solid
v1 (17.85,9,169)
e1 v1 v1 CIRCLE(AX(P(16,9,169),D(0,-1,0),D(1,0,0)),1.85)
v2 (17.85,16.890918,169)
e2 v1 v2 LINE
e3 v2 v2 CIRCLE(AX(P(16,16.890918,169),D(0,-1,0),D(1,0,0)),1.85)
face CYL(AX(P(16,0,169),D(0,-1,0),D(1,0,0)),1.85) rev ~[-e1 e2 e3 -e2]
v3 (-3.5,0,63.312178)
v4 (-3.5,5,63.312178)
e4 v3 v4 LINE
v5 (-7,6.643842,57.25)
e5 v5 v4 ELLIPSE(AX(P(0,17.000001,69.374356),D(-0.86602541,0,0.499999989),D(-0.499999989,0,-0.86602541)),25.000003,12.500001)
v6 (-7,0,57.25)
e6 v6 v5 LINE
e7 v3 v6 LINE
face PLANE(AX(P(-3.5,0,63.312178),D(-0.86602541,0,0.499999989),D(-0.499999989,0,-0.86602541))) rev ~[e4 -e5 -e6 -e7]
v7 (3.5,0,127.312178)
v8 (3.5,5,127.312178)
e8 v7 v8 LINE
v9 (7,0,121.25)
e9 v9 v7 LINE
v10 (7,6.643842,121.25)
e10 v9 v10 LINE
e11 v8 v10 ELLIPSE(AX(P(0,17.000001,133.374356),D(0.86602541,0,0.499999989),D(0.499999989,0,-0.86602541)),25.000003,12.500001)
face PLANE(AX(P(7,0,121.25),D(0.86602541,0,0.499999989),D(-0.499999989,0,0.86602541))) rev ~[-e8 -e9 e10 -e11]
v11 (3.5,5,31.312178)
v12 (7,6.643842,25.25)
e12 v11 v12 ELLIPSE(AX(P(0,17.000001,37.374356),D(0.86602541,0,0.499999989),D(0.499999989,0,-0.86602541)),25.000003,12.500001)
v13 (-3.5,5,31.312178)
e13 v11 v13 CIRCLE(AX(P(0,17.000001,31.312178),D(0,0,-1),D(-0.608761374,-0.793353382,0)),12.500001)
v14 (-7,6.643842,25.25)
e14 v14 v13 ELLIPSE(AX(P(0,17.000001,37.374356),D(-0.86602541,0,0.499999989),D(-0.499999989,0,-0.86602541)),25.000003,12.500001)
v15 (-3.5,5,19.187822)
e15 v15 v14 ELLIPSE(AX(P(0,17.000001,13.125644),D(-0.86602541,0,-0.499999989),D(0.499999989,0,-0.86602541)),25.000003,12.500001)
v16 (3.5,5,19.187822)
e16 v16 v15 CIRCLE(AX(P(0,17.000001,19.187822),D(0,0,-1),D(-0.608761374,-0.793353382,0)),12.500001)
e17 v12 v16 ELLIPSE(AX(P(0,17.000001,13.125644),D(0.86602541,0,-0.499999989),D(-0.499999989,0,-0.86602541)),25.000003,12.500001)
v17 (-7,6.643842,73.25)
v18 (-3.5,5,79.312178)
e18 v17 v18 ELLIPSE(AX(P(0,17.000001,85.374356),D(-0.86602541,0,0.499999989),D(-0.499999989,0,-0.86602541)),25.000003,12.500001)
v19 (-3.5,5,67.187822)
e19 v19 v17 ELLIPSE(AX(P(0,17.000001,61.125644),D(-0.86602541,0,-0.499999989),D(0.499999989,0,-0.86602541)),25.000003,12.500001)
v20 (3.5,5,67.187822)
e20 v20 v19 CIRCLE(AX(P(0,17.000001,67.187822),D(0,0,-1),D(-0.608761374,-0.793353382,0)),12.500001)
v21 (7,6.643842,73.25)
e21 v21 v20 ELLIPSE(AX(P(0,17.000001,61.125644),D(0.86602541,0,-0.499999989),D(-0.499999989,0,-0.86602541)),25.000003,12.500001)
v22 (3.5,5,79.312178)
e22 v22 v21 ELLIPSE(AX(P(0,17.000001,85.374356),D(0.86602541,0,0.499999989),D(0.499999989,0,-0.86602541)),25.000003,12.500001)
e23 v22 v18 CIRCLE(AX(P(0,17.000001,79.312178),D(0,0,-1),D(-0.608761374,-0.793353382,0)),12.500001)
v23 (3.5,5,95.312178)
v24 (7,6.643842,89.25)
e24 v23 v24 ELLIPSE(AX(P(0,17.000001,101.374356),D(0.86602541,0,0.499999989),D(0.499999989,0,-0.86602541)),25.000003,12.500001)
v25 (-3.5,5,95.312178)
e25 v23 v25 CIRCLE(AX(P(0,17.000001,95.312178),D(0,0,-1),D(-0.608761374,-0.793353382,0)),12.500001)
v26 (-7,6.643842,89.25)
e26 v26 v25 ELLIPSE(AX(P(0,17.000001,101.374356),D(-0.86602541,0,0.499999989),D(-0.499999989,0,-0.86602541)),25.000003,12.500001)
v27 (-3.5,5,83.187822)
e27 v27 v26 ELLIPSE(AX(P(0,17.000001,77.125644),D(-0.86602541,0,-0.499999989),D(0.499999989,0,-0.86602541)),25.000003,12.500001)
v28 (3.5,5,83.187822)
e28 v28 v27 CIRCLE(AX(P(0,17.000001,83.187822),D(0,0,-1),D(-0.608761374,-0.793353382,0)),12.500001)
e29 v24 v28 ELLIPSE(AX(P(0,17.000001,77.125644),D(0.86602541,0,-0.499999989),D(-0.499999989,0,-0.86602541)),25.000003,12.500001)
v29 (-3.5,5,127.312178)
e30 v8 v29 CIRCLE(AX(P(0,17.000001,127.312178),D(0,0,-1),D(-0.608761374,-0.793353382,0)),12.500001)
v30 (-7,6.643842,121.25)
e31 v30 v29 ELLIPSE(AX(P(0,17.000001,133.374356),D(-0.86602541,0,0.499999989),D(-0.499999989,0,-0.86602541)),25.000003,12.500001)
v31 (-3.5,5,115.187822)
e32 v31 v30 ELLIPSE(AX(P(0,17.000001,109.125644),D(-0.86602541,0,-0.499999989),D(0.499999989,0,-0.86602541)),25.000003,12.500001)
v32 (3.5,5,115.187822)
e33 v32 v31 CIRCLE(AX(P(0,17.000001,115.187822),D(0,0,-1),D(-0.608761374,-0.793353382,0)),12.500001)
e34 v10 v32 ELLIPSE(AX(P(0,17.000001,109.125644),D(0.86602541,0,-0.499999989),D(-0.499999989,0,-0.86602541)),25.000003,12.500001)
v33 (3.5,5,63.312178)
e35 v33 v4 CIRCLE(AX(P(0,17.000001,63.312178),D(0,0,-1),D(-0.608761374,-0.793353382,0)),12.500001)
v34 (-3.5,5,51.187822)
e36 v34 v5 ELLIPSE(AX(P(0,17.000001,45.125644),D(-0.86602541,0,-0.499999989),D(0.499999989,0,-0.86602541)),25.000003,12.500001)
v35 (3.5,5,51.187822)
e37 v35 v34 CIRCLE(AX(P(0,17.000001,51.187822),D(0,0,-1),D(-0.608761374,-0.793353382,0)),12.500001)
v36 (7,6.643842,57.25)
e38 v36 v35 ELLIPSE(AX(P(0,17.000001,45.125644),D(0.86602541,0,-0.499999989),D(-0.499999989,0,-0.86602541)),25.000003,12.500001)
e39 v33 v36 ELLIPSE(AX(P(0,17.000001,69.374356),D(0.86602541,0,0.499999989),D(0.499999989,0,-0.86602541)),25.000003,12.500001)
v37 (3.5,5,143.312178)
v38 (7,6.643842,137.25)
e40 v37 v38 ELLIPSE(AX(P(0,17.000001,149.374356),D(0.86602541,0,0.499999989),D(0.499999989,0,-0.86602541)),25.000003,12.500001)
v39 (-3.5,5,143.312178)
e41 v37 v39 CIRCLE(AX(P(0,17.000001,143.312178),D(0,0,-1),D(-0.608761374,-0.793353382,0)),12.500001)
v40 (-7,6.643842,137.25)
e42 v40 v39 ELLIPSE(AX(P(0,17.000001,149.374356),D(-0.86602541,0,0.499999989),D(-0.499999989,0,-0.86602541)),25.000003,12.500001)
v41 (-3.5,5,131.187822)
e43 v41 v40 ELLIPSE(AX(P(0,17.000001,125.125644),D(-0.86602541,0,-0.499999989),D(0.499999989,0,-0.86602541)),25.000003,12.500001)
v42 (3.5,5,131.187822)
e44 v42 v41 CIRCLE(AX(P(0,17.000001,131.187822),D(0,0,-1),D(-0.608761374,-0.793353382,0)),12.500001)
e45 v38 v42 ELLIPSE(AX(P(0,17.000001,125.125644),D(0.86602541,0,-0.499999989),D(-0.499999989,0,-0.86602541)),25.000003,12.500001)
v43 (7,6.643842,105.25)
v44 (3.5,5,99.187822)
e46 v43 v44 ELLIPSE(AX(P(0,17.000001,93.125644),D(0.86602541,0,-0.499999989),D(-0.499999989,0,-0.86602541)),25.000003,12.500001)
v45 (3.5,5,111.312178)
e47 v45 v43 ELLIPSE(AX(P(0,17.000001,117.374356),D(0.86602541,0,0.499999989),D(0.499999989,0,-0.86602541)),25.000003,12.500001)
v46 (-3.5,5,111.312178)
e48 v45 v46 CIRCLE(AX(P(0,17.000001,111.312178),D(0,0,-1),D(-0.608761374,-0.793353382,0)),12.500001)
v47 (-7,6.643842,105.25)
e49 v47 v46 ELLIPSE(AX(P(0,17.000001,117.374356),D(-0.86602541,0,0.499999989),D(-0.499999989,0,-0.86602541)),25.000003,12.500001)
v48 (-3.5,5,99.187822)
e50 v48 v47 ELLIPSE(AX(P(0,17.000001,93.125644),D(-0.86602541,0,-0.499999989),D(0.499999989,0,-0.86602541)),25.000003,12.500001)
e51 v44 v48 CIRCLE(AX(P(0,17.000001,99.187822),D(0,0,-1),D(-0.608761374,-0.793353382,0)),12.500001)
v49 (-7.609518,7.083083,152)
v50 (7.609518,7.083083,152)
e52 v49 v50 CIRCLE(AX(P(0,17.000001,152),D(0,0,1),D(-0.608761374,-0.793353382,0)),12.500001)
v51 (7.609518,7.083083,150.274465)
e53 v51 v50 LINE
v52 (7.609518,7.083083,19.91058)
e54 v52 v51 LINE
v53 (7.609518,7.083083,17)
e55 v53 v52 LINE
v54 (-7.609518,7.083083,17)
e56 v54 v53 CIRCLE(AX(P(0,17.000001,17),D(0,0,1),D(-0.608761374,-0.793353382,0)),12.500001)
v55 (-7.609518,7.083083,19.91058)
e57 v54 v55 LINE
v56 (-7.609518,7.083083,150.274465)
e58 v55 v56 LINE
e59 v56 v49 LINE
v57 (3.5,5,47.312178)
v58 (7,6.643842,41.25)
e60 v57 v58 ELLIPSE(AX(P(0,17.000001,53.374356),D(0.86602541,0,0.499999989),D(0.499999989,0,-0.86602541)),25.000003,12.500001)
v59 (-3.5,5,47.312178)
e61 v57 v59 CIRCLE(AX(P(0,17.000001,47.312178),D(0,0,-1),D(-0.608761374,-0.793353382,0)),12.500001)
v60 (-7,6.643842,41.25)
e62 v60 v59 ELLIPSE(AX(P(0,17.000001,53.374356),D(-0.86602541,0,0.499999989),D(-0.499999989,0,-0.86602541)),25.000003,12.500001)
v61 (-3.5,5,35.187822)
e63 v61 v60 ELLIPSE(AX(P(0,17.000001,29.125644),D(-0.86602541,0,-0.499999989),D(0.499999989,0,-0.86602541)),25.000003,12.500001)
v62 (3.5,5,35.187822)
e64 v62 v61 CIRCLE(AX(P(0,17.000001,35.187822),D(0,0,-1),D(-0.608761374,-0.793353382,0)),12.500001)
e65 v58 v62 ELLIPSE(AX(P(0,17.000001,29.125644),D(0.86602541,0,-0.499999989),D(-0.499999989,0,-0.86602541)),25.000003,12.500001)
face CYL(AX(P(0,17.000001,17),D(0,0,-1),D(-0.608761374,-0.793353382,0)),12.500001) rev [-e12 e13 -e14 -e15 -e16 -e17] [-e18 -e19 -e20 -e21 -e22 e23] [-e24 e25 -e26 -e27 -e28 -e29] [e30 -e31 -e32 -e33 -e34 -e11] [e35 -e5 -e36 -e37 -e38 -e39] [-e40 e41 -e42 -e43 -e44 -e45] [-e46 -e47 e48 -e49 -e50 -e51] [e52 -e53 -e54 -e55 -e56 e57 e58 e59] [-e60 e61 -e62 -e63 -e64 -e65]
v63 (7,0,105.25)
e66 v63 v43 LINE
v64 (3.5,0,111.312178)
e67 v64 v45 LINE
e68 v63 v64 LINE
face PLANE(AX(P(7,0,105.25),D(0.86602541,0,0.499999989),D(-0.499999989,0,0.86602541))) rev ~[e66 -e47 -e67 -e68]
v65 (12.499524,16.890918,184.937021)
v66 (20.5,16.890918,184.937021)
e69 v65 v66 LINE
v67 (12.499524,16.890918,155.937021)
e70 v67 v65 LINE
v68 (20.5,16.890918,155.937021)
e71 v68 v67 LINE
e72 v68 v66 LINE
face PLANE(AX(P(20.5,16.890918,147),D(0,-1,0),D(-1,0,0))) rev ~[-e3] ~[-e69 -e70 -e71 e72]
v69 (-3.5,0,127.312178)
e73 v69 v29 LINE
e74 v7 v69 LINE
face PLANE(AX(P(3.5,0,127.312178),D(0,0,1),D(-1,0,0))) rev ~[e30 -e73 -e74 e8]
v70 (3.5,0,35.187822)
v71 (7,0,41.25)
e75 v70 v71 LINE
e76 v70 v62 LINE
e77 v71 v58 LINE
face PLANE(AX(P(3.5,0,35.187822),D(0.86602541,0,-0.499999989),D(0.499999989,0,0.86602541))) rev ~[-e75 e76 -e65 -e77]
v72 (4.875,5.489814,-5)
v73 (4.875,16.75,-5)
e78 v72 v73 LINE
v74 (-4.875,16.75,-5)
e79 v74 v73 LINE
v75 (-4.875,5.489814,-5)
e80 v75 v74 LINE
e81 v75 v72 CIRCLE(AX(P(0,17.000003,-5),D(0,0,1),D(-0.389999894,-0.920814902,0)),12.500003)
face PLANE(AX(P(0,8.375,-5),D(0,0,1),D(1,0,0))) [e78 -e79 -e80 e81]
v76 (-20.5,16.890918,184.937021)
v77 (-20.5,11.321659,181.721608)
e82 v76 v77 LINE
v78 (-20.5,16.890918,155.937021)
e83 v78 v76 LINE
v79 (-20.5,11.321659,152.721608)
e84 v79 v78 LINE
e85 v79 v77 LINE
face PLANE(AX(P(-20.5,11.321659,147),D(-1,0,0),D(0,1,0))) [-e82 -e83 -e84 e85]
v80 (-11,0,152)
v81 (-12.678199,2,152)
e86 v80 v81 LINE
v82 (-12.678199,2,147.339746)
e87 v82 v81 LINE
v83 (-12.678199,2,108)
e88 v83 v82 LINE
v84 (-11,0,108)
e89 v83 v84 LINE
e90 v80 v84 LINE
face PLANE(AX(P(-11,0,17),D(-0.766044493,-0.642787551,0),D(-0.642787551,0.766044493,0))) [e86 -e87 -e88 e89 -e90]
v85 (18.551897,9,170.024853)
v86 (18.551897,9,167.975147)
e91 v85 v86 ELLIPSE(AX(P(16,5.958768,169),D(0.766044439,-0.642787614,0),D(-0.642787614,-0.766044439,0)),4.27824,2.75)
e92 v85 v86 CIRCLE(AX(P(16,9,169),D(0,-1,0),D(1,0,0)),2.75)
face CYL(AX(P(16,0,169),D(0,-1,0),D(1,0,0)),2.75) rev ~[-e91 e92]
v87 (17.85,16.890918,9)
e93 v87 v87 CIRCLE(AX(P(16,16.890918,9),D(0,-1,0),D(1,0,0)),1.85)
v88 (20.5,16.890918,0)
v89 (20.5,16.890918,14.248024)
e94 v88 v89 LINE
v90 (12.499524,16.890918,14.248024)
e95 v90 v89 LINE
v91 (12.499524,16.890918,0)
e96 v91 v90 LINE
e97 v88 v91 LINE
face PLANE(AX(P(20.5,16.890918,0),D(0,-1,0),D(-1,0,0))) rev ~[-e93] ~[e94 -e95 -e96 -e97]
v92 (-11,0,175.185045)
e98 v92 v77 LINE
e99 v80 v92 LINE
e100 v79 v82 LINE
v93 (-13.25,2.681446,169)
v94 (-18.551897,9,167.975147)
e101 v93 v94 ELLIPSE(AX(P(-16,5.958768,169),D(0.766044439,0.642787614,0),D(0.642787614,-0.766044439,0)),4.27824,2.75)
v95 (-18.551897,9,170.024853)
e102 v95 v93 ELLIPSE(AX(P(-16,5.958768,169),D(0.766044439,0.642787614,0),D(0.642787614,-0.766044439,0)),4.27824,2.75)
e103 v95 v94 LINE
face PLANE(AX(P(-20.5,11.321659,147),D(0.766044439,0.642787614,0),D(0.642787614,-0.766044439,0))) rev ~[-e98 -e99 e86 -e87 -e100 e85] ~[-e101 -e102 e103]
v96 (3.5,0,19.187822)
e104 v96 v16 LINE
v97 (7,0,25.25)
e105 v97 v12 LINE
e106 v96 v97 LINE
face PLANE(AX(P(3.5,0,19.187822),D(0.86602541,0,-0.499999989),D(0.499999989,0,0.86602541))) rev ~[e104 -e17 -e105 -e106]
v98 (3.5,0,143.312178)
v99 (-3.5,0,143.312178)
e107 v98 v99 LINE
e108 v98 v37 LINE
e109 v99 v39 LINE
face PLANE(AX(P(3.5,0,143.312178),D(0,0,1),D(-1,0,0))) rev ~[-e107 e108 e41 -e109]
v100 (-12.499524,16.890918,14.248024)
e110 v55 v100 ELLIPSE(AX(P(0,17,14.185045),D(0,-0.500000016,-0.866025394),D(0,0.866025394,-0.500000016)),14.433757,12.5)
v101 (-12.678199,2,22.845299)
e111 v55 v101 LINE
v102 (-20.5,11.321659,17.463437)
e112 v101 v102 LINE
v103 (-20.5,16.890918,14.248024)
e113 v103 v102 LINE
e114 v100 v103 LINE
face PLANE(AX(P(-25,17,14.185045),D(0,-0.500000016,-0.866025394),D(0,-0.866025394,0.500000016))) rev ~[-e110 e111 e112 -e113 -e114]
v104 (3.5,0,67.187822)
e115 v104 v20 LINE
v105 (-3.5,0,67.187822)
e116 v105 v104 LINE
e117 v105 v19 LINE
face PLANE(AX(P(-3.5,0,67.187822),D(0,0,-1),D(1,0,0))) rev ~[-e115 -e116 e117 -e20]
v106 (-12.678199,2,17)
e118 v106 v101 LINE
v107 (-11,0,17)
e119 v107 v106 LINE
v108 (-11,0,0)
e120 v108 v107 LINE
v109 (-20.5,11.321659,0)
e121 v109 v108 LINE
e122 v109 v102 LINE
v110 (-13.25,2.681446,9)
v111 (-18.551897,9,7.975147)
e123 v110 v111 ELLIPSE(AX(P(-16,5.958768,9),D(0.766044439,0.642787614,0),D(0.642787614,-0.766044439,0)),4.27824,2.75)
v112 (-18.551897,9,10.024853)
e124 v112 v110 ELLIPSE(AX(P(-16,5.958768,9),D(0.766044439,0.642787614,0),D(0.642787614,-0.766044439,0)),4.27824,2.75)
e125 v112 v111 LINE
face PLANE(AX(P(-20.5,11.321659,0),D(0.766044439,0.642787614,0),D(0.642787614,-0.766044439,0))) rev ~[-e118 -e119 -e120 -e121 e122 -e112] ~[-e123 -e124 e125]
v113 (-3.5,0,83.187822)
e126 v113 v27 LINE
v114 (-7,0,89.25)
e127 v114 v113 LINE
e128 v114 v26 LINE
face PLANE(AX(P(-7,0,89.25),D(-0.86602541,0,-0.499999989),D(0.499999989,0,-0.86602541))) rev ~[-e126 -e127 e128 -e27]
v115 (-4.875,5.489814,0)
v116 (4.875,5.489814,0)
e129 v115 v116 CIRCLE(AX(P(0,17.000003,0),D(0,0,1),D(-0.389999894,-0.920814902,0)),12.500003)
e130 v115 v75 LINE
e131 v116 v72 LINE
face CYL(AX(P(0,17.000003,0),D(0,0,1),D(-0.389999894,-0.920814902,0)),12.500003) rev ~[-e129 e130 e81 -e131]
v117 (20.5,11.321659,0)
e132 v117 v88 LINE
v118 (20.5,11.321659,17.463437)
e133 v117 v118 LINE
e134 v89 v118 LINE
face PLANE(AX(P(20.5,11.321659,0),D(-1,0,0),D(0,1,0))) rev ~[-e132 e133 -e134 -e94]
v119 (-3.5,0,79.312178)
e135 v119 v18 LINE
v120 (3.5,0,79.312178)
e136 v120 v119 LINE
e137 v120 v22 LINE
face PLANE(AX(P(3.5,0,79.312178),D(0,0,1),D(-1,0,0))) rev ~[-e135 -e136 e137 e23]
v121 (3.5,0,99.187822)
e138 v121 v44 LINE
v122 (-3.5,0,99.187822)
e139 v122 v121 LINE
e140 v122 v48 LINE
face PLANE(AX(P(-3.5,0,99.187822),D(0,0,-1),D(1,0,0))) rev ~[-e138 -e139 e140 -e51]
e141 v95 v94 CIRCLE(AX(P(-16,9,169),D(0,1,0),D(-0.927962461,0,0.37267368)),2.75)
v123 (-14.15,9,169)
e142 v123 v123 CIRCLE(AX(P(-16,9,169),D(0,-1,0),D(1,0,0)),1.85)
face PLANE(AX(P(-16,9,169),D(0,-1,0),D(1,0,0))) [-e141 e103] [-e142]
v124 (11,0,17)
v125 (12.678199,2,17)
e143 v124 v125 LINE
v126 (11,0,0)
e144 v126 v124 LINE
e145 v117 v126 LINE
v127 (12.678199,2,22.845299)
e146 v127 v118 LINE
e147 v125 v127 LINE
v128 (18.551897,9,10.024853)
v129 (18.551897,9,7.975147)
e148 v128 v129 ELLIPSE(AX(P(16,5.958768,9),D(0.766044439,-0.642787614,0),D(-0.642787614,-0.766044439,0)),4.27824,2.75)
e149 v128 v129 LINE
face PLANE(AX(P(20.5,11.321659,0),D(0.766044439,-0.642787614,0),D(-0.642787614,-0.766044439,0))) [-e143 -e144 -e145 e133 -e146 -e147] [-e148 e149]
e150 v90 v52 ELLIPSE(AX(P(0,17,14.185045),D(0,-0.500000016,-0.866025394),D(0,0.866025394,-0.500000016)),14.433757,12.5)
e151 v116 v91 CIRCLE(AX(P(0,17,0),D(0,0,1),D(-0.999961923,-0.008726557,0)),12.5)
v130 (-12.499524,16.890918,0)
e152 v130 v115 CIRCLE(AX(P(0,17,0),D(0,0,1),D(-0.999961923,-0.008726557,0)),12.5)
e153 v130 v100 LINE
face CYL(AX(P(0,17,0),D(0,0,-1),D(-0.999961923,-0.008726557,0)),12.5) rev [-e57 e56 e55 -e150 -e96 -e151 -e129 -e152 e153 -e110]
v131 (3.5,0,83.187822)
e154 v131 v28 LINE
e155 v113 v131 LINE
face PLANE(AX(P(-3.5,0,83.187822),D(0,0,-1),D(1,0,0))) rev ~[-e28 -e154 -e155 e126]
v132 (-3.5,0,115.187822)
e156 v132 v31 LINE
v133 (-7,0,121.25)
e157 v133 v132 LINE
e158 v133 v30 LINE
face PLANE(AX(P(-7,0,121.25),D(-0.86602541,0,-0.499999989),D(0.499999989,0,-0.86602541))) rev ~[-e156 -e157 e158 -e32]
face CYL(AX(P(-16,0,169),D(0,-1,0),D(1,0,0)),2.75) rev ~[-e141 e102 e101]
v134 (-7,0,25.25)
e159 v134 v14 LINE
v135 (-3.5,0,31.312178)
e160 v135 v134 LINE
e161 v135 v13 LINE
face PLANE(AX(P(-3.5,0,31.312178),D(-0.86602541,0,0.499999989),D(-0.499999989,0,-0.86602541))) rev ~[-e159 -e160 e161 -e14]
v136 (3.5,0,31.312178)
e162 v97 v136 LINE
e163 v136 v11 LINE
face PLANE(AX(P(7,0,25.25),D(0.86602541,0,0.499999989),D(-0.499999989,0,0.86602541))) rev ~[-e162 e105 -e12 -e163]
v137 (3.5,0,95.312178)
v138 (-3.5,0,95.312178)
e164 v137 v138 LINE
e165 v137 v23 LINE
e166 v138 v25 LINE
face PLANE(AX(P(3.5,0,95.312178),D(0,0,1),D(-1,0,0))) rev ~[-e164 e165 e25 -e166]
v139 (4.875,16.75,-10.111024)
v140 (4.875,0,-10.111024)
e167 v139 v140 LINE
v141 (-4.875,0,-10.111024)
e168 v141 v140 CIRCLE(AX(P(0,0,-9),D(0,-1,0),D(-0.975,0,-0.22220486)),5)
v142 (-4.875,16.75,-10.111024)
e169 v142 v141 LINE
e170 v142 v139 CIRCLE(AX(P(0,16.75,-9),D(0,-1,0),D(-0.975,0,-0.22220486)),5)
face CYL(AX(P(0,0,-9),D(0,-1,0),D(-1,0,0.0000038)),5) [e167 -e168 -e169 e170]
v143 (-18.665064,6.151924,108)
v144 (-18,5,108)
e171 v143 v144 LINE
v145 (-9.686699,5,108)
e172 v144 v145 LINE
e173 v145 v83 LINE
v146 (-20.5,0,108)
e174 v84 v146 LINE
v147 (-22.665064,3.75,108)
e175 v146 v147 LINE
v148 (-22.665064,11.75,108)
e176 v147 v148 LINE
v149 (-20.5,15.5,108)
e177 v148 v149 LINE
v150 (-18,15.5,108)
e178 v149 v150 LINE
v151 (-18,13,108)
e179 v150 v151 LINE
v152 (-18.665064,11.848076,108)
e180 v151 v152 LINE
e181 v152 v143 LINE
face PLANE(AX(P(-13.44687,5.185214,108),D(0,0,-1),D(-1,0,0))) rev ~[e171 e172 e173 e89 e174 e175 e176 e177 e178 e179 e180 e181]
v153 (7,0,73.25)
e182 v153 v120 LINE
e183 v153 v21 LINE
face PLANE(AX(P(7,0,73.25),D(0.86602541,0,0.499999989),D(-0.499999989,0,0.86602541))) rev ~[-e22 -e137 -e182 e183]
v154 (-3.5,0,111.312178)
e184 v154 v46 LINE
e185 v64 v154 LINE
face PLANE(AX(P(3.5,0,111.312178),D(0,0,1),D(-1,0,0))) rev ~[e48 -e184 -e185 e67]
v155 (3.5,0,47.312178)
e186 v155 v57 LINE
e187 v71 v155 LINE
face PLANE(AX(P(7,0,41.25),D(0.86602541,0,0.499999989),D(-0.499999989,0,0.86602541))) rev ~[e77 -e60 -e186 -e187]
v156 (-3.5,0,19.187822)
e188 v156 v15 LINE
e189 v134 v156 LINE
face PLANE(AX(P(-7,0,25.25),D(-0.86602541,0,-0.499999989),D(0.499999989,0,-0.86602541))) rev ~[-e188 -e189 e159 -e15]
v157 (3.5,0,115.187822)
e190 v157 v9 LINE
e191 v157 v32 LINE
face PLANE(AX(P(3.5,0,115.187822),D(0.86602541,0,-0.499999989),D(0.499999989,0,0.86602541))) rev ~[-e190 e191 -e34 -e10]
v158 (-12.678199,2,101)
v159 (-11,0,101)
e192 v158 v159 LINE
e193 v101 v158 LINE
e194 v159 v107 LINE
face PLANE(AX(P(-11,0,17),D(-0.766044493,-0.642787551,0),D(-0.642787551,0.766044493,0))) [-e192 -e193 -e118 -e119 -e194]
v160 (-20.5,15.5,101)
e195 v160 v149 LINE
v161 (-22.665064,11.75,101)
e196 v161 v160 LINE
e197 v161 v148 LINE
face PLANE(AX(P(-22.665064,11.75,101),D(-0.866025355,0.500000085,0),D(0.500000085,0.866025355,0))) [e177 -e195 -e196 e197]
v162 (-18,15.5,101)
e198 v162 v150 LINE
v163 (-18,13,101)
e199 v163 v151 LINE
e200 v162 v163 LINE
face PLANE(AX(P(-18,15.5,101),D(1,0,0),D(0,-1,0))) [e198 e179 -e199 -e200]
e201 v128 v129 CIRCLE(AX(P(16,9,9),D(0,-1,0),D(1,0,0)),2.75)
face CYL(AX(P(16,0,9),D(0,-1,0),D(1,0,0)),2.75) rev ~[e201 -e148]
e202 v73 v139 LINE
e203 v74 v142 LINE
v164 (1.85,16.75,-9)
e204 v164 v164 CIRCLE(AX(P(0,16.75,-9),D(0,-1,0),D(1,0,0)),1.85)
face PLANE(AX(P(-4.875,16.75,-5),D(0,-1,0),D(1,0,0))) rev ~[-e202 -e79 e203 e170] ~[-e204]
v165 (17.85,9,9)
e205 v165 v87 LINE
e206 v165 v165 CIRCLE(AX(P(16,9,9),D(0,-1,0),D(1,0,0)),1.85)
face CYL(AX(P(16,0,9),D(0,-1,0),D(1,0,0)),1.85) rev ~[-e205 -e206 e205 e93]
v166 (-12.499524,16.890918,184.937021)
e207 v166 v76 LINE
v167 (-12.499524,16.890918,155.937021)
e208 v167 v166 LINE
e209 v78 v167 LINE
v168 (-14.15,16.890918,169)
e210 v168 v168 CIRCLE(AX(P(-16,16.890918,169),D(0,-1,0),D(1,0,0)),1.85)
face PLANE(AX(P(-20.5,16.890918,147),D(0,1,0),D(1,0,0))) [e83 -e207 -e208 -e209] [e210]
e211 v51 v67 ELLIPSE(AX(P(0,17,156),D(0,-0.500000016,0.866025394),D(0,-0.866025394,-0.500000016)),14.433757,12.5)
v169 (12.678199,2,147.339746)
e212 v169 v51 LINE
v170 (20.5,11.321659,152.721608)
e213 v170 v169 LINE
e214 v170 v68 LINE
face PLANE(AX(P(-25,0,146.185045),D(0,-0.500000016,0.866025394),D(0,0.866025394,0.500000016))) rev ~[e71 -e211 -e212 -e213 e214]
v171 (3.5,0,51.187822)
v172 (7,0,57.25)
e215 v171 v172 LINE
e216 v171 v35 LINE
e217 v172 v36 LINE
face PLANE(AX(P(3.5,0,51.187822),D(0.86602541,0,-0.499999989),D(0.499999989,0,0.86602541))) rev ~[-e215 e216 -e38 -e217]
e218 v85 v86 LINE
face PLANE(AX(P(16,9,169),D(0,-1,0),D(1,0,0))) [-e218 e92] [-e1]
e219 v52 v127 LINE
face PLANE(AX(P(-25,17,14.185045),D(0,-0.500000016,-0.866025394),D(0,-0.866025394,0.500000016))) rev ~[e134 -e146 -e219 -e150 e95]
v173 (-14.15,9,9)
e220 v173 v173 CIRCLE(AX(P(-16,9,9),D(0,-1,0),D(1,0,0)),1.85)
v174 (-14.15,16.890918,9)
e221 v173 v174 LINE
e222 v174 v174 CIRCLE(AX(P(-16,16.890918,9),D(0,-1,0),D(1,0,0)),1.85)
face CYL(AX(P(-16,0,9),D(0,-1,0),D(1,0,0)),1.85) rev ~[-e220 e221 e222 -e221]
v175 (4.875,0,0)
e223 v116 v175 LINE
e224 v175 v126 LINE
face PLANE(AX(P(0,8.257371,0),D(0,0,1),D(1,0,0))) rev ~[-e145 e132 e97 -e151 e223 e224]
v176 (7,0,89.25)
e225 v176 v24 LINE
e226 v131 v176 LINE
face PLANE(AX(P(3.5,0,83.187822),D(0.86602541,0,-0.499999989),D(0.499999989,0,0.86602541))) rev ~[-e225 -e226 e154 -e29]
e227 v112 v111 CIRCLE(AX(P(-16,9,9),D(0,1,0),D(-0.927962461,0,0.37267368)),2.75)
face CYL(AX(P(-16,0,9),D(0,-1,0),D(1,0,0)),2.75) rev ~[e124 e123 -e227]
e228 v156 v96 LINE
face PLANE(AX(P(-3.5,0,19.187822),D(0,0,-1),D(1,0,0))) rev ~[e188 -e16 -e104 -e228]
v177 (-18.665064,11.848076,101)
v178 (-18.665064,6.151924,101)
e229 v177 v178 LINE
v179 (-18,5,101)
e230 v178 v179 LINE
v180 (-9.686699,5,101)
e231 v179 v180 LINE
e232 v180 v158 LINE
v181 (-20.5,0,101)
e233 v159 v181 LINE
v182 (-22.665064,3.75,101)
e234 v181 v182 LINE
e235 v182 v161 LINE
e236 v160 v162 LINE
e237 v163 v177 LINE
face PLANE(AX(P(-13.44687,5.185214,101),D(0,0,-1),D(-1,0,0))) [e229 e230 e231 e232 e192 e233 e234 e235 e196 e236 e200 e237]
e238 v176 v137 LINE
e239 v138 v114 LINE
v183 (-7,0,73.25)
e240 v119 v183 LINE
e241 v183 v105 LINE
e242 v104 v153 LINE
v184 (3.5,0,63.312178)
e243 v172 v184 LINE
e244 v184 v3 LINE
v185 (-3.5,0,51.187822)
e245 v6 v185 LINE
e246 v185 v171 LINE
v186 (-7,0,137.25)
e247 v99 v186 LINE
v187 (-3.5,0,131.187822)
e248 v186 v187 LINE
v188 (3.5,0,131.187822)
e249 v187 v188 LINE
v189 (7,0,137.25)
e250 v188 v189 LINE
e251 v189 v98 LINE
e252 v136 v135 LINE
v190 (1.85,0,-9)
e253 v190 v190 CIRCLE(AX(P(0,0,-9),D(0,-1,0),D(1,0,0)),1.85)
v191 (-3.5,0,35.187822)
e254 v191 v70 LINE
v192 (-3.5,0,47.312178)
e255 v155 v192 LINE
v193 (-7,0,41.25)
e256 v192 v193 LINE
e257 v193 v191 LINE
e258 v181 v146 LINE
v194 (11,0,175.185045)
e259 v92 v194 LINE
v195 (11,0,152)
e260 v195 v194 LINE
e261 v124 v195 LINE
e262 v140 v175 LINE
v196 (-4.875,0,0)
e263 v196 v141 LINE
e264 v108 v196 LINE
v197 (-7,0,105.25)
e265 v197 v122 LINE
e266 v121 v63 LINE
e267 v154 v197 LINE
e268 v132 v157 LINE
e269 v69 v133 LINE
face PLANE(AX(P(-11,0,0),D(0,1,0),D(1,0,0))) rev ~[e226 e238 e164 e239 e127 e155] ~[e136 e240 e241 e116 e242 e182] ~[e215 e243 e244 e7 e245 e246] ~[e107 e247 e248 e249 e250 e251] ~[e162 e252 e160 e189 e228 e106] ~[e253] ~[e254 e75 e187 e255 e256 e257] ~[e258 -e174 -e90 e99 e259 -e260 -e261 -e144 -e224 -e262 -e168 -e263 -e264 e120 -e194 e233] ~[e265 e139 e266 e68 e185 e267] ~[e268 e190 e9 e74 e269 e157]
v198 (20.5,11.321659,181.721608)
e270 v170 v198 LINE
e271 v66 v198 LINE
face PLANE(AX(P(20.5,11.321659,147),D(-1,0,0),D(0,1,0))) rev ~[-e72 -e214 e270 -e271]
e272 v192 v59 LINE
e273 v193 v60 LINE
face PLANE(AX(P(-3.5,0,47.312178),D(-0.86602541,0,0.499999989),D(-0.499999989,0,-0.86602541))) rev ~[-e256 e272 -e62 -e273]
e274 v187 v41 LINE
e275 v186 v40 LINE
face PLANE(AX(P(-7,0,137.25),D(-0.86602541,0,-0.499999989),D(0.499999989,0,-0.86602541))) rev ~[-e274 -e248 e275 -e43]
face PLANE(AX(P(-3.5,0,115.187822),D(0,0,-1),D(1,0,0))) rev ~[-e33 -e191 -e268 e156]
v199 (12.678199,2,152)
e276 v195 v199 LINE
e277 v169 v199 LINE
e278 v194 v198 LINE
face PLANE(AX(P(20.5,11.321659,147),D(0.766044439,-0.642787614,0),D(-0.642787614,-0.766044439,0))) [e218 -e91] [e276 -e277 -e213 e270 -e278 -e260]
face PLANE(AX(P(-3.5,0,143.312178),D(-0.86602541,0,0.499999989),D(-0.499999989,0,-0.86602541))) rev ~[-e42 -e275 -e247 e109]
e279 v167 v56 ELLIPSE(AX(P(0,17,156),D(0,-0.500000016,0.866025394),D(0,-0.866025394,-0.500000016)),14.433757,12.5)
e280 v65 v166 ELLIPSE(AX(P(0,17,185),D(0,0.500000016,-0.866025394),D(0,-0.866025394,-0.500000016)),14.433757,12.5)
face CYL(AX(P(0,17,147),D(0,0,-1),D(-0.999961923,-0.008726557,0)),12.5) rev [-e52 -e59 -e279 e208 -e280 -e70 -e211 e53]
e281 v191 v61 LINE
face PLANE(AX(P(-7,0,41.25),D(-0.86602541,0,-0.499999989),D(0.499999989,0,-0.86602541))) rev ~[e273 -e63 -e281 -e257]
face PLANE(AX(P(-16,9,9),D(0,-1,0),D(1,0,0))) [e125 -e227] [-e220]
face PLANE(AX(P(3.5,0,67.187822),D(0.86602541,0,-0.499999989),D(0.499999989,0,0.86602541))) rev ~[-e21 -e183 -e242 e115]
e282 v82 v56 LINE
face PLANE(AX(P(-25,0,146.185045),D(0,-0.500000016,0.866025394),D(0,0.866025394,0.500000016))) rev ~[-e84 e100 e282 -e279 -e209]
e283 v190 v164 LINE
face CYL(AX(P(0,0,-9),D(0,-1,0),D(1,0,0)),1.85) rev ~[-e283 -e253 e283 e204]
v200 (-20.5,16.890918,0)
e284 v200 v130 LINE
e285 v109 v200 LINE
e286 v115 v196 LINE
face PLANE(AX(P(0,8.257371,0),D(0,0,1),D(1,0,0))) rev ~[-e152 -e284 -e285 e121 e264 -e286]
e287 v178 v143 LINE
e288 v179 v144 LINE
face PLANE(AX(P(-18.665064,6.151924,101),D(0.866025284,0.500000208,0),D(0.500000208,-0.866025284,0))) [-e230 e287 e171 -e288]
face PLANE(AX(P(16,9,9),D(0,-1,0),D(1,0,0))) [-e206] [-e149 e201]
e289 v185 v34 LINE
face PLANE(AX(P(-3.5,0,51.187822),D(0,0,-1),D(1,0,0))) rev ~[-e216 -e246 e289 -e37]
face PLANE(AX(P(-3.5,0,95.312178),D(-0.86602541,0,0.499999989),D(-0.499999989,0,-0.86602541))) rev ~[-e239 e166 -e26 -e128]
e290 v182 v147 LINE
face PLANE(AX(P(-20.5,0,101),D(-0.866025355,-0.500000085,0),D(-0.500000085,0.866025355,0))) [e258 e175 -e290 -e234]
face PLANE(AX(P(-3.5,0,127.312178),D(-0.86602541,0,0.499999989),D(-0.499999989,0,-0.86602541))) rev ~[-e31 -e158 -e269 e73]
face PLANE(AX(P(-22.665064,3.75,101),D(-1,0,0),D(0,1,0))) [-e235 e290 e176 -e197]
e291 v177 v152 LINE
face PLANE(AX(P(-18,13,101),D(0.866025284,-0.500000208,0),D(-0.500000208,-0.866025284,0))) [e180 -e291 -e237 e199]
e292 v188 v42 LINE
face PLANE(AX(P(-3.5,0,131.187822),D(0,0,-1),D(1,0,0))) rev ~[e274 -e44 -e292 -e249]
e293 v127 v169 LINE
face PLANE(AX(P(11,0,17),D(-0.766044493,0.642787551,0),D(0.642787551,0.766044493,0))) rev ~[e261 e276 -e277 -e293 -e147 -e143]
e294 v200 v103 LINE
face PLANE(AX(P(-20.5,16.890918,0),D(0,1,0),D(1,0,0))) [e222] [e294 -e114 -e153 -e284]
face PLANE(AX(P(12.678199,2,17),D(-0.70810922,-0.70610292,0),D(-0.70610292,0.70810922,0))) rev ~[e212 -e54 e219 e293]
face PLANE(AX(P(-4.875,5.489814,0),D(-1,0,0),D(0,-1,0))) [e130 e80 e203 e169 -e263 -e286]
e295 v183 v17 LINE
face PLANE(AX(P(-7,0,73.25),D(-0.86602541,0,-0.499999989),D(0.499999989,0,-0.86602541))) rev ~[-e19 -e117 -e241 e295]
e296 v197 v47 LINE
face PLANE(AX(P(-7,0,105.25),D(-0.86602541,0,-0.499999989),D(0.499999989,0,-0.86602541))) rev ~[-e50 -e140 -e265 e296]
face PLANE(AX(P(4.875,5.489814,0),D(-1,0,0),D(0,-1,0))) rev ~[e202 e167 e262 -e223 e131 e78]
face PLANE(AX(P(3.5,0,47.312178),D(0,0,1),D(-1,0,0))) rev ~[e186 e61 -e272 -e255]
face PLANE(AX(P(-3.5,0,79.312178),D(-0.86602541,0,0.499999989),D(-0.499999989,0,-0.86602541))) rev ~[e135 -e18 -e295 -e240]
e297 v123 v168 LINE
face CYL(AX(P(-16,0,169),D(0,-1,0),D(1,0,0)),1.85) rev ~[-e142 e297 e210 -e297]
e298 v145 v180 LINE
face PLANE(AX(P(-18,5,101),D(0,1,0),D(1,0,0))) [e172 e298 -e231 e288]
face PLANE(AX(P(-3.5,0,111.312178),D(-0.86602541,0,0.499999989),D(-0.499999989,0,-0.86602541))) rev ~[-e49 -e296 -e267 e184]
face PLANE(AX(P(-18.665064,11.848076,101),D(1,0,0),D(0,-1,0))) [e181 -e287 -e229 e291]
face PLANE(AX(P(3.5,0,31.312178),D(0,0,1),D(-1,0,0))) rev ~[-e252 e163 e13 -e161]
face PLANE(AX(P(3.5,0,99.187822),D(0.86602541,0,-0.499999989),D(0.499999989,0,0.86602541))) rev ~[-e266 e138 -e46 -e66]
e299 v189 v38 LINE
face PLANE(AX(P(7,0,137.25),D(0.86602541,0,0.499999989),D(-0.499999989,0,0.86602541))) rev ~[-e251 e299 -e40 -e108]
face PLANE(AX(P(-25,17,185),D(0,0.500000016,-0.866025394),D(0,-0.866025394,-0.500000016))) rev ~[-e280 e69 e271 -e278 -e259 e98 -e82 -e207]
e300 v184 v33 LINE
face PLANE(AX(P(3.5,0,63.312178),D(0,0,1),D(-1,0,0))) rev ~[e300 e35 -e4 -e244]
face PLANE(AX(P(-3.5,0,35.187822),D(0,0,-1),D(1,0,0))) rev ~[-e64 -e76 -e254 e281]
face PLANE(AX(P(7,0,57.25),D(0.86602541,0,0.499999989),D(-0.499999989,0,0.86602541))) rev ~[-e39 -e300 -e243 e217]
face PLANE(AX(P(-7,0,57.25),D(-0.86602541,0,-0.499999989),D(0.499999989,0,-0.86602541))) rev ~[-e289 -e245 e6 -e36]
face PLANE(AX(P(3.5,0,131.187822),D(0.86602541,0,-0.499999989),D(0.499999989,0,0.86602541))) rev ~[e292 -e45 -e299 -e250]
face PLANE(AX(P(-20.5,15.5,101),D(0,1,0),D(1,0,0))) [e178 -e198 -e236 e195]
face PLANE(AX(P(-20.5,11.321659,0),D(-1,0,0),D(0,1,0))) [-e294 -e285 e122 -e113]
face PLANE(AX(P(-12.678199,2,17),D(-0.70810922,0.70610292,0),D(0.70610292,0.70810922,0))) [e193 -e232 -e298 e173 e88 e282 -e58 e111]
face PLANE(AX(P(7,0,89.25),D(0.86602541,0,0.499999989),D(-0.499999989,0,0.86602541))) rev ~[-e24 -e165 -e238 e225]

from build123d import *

# Parameters (mm, degrees)
SKETCH242_AS_DRAWN_R                    = 1.85
EXTRUDE136028_DEPTH                     = 20
EXTRUDE136028_ONTO_SKETCH242_ROLL_ANGLE = 90
EXTRUDE136035_DEPTH                     = 50
SKETCH245_AS_DRAWN_R                    = 2.75
EXTRUDE136031_DEPTH                     = 9
EXTRUDE136031_ONTO_SKETCH245_ROLL_ANGLE = 90
SKETCH244_AS_DRAWN_R                    = 1.85
EXTRUDE136030_DEPTH                     = 20
EXTRUDE136030_ONTO_SKETCH244_ROLL_ANGLE = 90
EXTRUDE136029_DEPTH                     = 38
EXTRUDE136036_DEPTH                     = 50
SKETCH248_AS_DRAWN_R                    = 2.75
EXTRUDE136034_DEPTH                     = 9
EXTRUDE136034_ONTO_SKETCH248_ROLL_ANGLE = 90
SKETCH247_AS_DRAWN_R                    = 1.85
EXTRUDE136033_DEPTH                     = 20
EXTRUDE136033_ONTO_SKETCH247_ROLL_ANGLE = 90
EXTRUDE136032_DEPTH                     = 24
EXTRUDE136037_DEPTH                     = 14
SKETCH252_W                             = 9.75
SKETCH252_H                             = 16.75
EXTRUDE136038_DEPTH                     = 9
EXTRUDE136039_DEPTH                     = 7
EXTRUDE136027_DEPTH                     = 135


with BuildPart() as extrude136028:
    # Sketch242 as drawn → Extrude136028 (new)
    with BuildSketch(Plane.XY):
        with Locations((0, -9)):
            Circle(SKETCH242_AS_DRAWN_R)
        Polygon((3.5, 19.187822), (7, 25.25), (3.5, 31.312178), (-3.5, 31.312178), (-7, 25.25), (-3.5, 19.187822), align=None)
        Polygon((3.5, 35.187822), (7, 41.25), (3.5, 47.312178), (-3.5, 47.312178), (-7, 41.25), (-3.5, 35.187822), align=None)
        Polygon((3.5, 51.187822), (7, 57.25), (3.5, 63.312178), (-3.5, 63.312178), (-7, 57.25), (-3.5, 51.187822), align=None)
        Polygon((3.5, 67.187822), (7, 73.25), (3.5, 79.312178), (-3.5, 79.312178), (-7, 73.25), (-3.5, 67.187822), align=None)
        Polygon((3.5, 83.187822), (7, 89.25), (3.5, 95.312178), (-3.5, 95.312178), (-7, 89.25), (-3.5, 83.187822), align=None)
        Polygon((3.5, 99.187822), (7, 105.25), (3.5, 111.312178), (-3.5, 111.312178), (-7, 105.25), (-3.5, 99.187822), align=None)
        Polygon((3.5, 115.187822), (7, 121.25), (3.5, 127.312178), (-3.5, 127.312178), (-7, 121.25), (-3.5, 115.187822), align=None)
        Polygon((3.5, 131.187822), (7, 137.25), (3.5, 143.312178), (-3.5, 143.312178), (-7, 137.25), (-3.5, 131.187822), align=None)
        with BuildLine():
            Line((5, -8.999981), (5, -15.999981))
            Line((5, -15.999981), (-5, -15.999981))
            Line((-5, -15.999981), (-5, -8.999981))
            ThreePointArc((-5, -8.999981), (0, -14), (5, -8.999981))
        make_face()
    extrude(amount=-EXTRUDE136028_DEPTH)


with BuildPart() as extrude136028_1:
    # Extrude136028 onto Sketch242 roll: moved
    add(extrude136028.part.rotate(Axis((0, 0, 0), (1, 0, 0)), EXTRUDE136028_ONTO_SKETCH242_ROLL_ANGLE))


with BuildPart() as extrude136028_2:
    # Extrude136028 onto Sketch242 placement: moved
    add(extrude136028_1.part)


with BuildPart() as extrude136035:
    # Sketch249 → Extrude136035 (new body)
    with BuildSketch(Plane.YZ):
        Polygon((0, -9.814955), (17, 0), (17, -9.814955), align=None)
        Polygon((17, 29), (0, 19.185045), (0, 29), align=None)
    extrude(amount=EXTRUDE136035_DEPTH)


with BuildPart() as extrude136035_1:
    # Extrude136035 placement: moved
    add(extrude136035.part.moved(Location((-25, 0, 0))))


with BuildPart() as extrude136031:
    # Sketch245 as drawn → Extrude136031 (new)
    with BuildSketch(Plane.XY):
        with Locations((-16, 0)):
            Circle(SKETCH245_AS_DRAWN_R)
        with Locations((16, 0)):
            Circle(SKETCH245_AS_DRAWN_R)
    extrude(amount=-EXTRUDE136031_DEPTH)


with BuildPart() as extrude136031_1:
    # Extrude136031 onto Sketch245 roll: moved
    add(extrude136031.part.rotate(Axis((0, 0, 0), (1, 0, 0)), EXTRUDE136031_ONTO_SKETCH245_ROLL_ANGLE))


with BuildPart() as extrude136031_2:
    # Extrude136031 onto Sketch245 placement: moved
    add(extrude136031_1.part)


with BuildPart() as fusion034004041043:
    # Sketch244 as drawn → Extrude136030 (new)
    with BuildSketch(Plane.XY):
        with Locations((-16, 0)):
            Circle(SKETCH244_AS_DRAWN_R)
        with Locations((16, 0)):
            Circle(SKETCH244_AS_DRAWN_R)
    extrude(amount=-EXTRUDE136030_DEPTH)


with BuildPart() as fusion034004041043_1:
    # Extrude136030 onto Sketch244 roll: moved
    add(fusion034004041043.part.rotate(Axis((0, 0, 0), (1, 0, 0)), EXTRUDE136030_ONTO_SKETCH244_ROLL_ANGLE))


with BuildPart() as fusion034004041043_2:
    # Extrude136030 onto Sketch244 placement: moved
    add(fusion034004041043_1.part)

    # Fusion034004041041: union Extrude136031
    add(extrude136031_2.part)


with BuildPart() as fusion034004041043_3:
    # Fusion034004041041 placement: moved
    add(fusion034004041043_2.part.moved(Location((0, 0, 13))))

    # Fusion034004041043: union Extrude136035
    add(extrude136035_1.part)


with BuildPart() as cut009010006006006005003:
    # Sketch243 → Extrude136029 (new body)
    with BuildSketch(Plane.XY):
        with BuildLine():
            Line((-11, 0), (11, 0))
            Line((20.5, 11.321659), (11, 0))
            Line((20.5, 11.321659), (20.5, 16.890918))
            Line((20.5, 16.890918), (12.499524, 16.890918))
            ThreePointArc((-12.499524, 16.890918), (0, 4.5), (12.499524, 16.890918))
            Line((-20.5, 16.890918), (-12.499524, 16.890918))
            Line((-20.5, 11.321659), (-20.5, 16.890918))
            Line((-20.5, 11.321659), (-11, 0))
        make_face()
    extrude(amount=EXTRUDE136029_DEPTH)


with BuildPart() as cut009010006006006005003_1:
    # Extrude136029 placement: moved
    add(cut009010006006006005003.part.moved(Location((0, 0, -9))))

    # Cut009010006006006005003: cut Fusion034004041043
    add(fusion034004041043_3.part, mode=Mode.SUBTRACT)


with BuildPart() as cut009010006006006005003_2:
    # Cut009010006006006005003 placement: moved
    add(cut009010006006006005003_1.part.moved(Location((0, 0, 156))))


with BuildPart() as extrude136036:
    # Sketch250 → Extrude136036 (new body)
    with BuildSketch(Plane.YZ):
        Polygon((0, 24), (17, 24), (17, 14.185045), align=None)
    extrude(amount=EXTRUDE136036_DEPTH)


with BuildPart() as extrude136036_1:
    # Extrude136036 placement: moved
    add(extrude136036.part.moved(Location((-25, 0, 0))))


with BuildPart() as extrude136034:
    # Sketch248 as drawn → Extrude136034 (new)
    with BuildSketch(Plane.XY):
        with Locations((-16, 0)):
            Circle(SKETCH248_AS_DRAWN_R)
        with Locations((16, 0)):
            Circle(SKETCH248_AS_DRAWN_R)
    extrude(amount=-EXTRUDE136034_DEPTH)


with BuildPart() as extrude136034_1:
    # Extrude136034 onto Sketch248 roll: moved
    add(extrude136034.part.rotate(Axis((0, 0, 0), (1, 0, 0)), EXTRUDE136034_ONTO_SKETCH248_ROLL_ANGLE))


with BuildPart() as extrude136034_2:
    # Extrude136034 onto Sketch248 placement: moved
    add(extrude136034_1.part)


with BuildPart() as fusion034004041042:
    # Sketch247 as drawn → Extrude136033 (new)
    with BuildSketch(Plane.XY):
        with Locations((-16, 0)):
            Circle(SKETCH247_AS_DRAWN_R)
        with Locations((16, 0)):
            Circle(SKETCH247_AS_DRAWN_R)
    extrude(amount=-EXTRUDE136033_DEPTH)


with BuildPart() as fusion034004041042_1:
    # Extrude136033 onto Sketch247 roll: moved
    add(fusion034004041042.part.rotate(Axis((0, 0, 0), (1, 0, 0)), EXTRUDE136033_ONTO_SKETCH247_ROLL_ANGLE))


with BuildPart() as fusion034004041042_2:
    # Extrude136033 onto Sketch247 placement: moved
    add(fusion034004041042_1.part)

    # Fusion034004041042: union Extrude136034
    add(extrude136034_2.part)


with BuildPart() as fusion034004041042_3:
    # Fusion034004041042 placement: moved
    add(fusion034004041042_2.part.moved(Location((0, 0, 9))))


with BuildPart() as cut009010006006006005004:
    # Sketch246 → Extrude136032 (new body)
    with BuildSketch(Plane.XY):
        with BuildLine():
            Line((-11, 0), (11, 0))
            Line((20.5, 11.321659), (11, 0))
            Line((20.5, 11.321659), (20.5, 16.890918))
            Line((20.5, 16.890918), (12.499524, 16.890918))
            ThreePointArc((-12.499524, 16.890918), (0, 4.5), (12.499524, 16.890918))
            Line((-20.5, 16.890918), (-12.499524, 16.890918))
            Line((-20.5, 11.321659), (-20.5, 16.890918))
            Line((-20.5, 11.321659), (-11, 0))
        make_face()
    extrude(amount=EXTRUDE136032_DEPTH)

    # Cut009010006006006005002: cut Fusion034004041042
    add(fusion034004041042_3.part, mode=Mode.SUBTRACT)

    # Cut009010006006006005004: cut Extrude136036
    add(extrude136036_1.part, mode=Mode.SUBTRACT)


with BuildPart() as extrude136037:
    # Sketch251 → Extrude136037 (new body)
    with BuildSketch(Plane.XY):
        with BuildLine():
            Line((-4.875, 0), (4.875, 0))
            Line((4.875, 5.489814), (4.875, 0))
            ThreePointArc((-4.875, 5.489814), (0, 4.5), (4.875, 5.489814))
            Line((-4.875, 5.489814), (-4.875, 0))
        make_face()
    extrude(amount=-EXTRUDE136037_DEPTH)


with BuildPart() as extrude136038:
    # Sketch252 → Extrude136038 (new body)
    with BuildSketch(Plane.XY):
        with Locations((0, 8.375)):
            Rectangle(SKETCH252_W, SKETCH252_H)
    extrude(amount=-EXTRUDE136038_DEPTH)


with BuildPart() as extrude136038_1:
    # Extrude136038 placement: moved
    add(extrude136038.part.moved(Location((0, 0, -5))))


with BuildPart() as extrude136039:
    # Sketch253 → Extrude136039 (new body)
    with BuildSketch(Plane.XY):
        Polygon((0, 5), (0, 0), (-20.5, 0), (-22.665064, 3.75), (-22.665064, 11.75), (-20.5, 15.5), (-18, 15.5), (-18, 13), (-18.665064, 11.848076), (-18.665064, 6.151924), (-18, 5), align=None)
    extrude(amount=EXTRUDE136039_DEPTH)


with BuildPart() as extrude136039_1:
    # Extrude136039 placement: moved
    add(extrude136039.part.moved(Location((0, 0, 101))))


with BuildPart() as cut009010006006006005005:
    # Sketch241 → Extrude136027 (new body)
    with BuildSketch(Plane.XY):
        with BuildLine():
            Line((-11, 0), (11, 0))
            Line((11, 0), (12.678199, 2))
            Line((12.678199, 2), (7.609518, 7.083083))
            ThreePointArc((-7.609518, 7.083083), (0, 4.5), (7.609518, 7.083083))
            Line((-12.678199, 2), (-7.609518, 7.083083))
            Line((-11, 0), (-12.678199, 2))
        make_face()
    extrude(amount=EXTRUDE136027_DEPTH)


with BuildPart() as cut009010006006006005005_1:
    # Extrude136027 placement: moved
    add(cut009010006006006005005.part.moved(Location((0, 0, 17))))

    # Fusion034004041027: union Cut009010006006006005003, Cut009010006006006005004, Extrude136037, Extrude136038, Extrude136039
    add(cut009010006006006005003_2.part)
    add(cut009010006006006005004.part)
    add(extrude136037.part)
    add(extrude136038_1.part)
    add(extrude136039_1.part)

    # Cut009010006006006005005: cut Extrude136028
    add(extrude136028_2.part, mode=Mode.SUBTRACT)


solid = cut009010006006006005005_1.part
